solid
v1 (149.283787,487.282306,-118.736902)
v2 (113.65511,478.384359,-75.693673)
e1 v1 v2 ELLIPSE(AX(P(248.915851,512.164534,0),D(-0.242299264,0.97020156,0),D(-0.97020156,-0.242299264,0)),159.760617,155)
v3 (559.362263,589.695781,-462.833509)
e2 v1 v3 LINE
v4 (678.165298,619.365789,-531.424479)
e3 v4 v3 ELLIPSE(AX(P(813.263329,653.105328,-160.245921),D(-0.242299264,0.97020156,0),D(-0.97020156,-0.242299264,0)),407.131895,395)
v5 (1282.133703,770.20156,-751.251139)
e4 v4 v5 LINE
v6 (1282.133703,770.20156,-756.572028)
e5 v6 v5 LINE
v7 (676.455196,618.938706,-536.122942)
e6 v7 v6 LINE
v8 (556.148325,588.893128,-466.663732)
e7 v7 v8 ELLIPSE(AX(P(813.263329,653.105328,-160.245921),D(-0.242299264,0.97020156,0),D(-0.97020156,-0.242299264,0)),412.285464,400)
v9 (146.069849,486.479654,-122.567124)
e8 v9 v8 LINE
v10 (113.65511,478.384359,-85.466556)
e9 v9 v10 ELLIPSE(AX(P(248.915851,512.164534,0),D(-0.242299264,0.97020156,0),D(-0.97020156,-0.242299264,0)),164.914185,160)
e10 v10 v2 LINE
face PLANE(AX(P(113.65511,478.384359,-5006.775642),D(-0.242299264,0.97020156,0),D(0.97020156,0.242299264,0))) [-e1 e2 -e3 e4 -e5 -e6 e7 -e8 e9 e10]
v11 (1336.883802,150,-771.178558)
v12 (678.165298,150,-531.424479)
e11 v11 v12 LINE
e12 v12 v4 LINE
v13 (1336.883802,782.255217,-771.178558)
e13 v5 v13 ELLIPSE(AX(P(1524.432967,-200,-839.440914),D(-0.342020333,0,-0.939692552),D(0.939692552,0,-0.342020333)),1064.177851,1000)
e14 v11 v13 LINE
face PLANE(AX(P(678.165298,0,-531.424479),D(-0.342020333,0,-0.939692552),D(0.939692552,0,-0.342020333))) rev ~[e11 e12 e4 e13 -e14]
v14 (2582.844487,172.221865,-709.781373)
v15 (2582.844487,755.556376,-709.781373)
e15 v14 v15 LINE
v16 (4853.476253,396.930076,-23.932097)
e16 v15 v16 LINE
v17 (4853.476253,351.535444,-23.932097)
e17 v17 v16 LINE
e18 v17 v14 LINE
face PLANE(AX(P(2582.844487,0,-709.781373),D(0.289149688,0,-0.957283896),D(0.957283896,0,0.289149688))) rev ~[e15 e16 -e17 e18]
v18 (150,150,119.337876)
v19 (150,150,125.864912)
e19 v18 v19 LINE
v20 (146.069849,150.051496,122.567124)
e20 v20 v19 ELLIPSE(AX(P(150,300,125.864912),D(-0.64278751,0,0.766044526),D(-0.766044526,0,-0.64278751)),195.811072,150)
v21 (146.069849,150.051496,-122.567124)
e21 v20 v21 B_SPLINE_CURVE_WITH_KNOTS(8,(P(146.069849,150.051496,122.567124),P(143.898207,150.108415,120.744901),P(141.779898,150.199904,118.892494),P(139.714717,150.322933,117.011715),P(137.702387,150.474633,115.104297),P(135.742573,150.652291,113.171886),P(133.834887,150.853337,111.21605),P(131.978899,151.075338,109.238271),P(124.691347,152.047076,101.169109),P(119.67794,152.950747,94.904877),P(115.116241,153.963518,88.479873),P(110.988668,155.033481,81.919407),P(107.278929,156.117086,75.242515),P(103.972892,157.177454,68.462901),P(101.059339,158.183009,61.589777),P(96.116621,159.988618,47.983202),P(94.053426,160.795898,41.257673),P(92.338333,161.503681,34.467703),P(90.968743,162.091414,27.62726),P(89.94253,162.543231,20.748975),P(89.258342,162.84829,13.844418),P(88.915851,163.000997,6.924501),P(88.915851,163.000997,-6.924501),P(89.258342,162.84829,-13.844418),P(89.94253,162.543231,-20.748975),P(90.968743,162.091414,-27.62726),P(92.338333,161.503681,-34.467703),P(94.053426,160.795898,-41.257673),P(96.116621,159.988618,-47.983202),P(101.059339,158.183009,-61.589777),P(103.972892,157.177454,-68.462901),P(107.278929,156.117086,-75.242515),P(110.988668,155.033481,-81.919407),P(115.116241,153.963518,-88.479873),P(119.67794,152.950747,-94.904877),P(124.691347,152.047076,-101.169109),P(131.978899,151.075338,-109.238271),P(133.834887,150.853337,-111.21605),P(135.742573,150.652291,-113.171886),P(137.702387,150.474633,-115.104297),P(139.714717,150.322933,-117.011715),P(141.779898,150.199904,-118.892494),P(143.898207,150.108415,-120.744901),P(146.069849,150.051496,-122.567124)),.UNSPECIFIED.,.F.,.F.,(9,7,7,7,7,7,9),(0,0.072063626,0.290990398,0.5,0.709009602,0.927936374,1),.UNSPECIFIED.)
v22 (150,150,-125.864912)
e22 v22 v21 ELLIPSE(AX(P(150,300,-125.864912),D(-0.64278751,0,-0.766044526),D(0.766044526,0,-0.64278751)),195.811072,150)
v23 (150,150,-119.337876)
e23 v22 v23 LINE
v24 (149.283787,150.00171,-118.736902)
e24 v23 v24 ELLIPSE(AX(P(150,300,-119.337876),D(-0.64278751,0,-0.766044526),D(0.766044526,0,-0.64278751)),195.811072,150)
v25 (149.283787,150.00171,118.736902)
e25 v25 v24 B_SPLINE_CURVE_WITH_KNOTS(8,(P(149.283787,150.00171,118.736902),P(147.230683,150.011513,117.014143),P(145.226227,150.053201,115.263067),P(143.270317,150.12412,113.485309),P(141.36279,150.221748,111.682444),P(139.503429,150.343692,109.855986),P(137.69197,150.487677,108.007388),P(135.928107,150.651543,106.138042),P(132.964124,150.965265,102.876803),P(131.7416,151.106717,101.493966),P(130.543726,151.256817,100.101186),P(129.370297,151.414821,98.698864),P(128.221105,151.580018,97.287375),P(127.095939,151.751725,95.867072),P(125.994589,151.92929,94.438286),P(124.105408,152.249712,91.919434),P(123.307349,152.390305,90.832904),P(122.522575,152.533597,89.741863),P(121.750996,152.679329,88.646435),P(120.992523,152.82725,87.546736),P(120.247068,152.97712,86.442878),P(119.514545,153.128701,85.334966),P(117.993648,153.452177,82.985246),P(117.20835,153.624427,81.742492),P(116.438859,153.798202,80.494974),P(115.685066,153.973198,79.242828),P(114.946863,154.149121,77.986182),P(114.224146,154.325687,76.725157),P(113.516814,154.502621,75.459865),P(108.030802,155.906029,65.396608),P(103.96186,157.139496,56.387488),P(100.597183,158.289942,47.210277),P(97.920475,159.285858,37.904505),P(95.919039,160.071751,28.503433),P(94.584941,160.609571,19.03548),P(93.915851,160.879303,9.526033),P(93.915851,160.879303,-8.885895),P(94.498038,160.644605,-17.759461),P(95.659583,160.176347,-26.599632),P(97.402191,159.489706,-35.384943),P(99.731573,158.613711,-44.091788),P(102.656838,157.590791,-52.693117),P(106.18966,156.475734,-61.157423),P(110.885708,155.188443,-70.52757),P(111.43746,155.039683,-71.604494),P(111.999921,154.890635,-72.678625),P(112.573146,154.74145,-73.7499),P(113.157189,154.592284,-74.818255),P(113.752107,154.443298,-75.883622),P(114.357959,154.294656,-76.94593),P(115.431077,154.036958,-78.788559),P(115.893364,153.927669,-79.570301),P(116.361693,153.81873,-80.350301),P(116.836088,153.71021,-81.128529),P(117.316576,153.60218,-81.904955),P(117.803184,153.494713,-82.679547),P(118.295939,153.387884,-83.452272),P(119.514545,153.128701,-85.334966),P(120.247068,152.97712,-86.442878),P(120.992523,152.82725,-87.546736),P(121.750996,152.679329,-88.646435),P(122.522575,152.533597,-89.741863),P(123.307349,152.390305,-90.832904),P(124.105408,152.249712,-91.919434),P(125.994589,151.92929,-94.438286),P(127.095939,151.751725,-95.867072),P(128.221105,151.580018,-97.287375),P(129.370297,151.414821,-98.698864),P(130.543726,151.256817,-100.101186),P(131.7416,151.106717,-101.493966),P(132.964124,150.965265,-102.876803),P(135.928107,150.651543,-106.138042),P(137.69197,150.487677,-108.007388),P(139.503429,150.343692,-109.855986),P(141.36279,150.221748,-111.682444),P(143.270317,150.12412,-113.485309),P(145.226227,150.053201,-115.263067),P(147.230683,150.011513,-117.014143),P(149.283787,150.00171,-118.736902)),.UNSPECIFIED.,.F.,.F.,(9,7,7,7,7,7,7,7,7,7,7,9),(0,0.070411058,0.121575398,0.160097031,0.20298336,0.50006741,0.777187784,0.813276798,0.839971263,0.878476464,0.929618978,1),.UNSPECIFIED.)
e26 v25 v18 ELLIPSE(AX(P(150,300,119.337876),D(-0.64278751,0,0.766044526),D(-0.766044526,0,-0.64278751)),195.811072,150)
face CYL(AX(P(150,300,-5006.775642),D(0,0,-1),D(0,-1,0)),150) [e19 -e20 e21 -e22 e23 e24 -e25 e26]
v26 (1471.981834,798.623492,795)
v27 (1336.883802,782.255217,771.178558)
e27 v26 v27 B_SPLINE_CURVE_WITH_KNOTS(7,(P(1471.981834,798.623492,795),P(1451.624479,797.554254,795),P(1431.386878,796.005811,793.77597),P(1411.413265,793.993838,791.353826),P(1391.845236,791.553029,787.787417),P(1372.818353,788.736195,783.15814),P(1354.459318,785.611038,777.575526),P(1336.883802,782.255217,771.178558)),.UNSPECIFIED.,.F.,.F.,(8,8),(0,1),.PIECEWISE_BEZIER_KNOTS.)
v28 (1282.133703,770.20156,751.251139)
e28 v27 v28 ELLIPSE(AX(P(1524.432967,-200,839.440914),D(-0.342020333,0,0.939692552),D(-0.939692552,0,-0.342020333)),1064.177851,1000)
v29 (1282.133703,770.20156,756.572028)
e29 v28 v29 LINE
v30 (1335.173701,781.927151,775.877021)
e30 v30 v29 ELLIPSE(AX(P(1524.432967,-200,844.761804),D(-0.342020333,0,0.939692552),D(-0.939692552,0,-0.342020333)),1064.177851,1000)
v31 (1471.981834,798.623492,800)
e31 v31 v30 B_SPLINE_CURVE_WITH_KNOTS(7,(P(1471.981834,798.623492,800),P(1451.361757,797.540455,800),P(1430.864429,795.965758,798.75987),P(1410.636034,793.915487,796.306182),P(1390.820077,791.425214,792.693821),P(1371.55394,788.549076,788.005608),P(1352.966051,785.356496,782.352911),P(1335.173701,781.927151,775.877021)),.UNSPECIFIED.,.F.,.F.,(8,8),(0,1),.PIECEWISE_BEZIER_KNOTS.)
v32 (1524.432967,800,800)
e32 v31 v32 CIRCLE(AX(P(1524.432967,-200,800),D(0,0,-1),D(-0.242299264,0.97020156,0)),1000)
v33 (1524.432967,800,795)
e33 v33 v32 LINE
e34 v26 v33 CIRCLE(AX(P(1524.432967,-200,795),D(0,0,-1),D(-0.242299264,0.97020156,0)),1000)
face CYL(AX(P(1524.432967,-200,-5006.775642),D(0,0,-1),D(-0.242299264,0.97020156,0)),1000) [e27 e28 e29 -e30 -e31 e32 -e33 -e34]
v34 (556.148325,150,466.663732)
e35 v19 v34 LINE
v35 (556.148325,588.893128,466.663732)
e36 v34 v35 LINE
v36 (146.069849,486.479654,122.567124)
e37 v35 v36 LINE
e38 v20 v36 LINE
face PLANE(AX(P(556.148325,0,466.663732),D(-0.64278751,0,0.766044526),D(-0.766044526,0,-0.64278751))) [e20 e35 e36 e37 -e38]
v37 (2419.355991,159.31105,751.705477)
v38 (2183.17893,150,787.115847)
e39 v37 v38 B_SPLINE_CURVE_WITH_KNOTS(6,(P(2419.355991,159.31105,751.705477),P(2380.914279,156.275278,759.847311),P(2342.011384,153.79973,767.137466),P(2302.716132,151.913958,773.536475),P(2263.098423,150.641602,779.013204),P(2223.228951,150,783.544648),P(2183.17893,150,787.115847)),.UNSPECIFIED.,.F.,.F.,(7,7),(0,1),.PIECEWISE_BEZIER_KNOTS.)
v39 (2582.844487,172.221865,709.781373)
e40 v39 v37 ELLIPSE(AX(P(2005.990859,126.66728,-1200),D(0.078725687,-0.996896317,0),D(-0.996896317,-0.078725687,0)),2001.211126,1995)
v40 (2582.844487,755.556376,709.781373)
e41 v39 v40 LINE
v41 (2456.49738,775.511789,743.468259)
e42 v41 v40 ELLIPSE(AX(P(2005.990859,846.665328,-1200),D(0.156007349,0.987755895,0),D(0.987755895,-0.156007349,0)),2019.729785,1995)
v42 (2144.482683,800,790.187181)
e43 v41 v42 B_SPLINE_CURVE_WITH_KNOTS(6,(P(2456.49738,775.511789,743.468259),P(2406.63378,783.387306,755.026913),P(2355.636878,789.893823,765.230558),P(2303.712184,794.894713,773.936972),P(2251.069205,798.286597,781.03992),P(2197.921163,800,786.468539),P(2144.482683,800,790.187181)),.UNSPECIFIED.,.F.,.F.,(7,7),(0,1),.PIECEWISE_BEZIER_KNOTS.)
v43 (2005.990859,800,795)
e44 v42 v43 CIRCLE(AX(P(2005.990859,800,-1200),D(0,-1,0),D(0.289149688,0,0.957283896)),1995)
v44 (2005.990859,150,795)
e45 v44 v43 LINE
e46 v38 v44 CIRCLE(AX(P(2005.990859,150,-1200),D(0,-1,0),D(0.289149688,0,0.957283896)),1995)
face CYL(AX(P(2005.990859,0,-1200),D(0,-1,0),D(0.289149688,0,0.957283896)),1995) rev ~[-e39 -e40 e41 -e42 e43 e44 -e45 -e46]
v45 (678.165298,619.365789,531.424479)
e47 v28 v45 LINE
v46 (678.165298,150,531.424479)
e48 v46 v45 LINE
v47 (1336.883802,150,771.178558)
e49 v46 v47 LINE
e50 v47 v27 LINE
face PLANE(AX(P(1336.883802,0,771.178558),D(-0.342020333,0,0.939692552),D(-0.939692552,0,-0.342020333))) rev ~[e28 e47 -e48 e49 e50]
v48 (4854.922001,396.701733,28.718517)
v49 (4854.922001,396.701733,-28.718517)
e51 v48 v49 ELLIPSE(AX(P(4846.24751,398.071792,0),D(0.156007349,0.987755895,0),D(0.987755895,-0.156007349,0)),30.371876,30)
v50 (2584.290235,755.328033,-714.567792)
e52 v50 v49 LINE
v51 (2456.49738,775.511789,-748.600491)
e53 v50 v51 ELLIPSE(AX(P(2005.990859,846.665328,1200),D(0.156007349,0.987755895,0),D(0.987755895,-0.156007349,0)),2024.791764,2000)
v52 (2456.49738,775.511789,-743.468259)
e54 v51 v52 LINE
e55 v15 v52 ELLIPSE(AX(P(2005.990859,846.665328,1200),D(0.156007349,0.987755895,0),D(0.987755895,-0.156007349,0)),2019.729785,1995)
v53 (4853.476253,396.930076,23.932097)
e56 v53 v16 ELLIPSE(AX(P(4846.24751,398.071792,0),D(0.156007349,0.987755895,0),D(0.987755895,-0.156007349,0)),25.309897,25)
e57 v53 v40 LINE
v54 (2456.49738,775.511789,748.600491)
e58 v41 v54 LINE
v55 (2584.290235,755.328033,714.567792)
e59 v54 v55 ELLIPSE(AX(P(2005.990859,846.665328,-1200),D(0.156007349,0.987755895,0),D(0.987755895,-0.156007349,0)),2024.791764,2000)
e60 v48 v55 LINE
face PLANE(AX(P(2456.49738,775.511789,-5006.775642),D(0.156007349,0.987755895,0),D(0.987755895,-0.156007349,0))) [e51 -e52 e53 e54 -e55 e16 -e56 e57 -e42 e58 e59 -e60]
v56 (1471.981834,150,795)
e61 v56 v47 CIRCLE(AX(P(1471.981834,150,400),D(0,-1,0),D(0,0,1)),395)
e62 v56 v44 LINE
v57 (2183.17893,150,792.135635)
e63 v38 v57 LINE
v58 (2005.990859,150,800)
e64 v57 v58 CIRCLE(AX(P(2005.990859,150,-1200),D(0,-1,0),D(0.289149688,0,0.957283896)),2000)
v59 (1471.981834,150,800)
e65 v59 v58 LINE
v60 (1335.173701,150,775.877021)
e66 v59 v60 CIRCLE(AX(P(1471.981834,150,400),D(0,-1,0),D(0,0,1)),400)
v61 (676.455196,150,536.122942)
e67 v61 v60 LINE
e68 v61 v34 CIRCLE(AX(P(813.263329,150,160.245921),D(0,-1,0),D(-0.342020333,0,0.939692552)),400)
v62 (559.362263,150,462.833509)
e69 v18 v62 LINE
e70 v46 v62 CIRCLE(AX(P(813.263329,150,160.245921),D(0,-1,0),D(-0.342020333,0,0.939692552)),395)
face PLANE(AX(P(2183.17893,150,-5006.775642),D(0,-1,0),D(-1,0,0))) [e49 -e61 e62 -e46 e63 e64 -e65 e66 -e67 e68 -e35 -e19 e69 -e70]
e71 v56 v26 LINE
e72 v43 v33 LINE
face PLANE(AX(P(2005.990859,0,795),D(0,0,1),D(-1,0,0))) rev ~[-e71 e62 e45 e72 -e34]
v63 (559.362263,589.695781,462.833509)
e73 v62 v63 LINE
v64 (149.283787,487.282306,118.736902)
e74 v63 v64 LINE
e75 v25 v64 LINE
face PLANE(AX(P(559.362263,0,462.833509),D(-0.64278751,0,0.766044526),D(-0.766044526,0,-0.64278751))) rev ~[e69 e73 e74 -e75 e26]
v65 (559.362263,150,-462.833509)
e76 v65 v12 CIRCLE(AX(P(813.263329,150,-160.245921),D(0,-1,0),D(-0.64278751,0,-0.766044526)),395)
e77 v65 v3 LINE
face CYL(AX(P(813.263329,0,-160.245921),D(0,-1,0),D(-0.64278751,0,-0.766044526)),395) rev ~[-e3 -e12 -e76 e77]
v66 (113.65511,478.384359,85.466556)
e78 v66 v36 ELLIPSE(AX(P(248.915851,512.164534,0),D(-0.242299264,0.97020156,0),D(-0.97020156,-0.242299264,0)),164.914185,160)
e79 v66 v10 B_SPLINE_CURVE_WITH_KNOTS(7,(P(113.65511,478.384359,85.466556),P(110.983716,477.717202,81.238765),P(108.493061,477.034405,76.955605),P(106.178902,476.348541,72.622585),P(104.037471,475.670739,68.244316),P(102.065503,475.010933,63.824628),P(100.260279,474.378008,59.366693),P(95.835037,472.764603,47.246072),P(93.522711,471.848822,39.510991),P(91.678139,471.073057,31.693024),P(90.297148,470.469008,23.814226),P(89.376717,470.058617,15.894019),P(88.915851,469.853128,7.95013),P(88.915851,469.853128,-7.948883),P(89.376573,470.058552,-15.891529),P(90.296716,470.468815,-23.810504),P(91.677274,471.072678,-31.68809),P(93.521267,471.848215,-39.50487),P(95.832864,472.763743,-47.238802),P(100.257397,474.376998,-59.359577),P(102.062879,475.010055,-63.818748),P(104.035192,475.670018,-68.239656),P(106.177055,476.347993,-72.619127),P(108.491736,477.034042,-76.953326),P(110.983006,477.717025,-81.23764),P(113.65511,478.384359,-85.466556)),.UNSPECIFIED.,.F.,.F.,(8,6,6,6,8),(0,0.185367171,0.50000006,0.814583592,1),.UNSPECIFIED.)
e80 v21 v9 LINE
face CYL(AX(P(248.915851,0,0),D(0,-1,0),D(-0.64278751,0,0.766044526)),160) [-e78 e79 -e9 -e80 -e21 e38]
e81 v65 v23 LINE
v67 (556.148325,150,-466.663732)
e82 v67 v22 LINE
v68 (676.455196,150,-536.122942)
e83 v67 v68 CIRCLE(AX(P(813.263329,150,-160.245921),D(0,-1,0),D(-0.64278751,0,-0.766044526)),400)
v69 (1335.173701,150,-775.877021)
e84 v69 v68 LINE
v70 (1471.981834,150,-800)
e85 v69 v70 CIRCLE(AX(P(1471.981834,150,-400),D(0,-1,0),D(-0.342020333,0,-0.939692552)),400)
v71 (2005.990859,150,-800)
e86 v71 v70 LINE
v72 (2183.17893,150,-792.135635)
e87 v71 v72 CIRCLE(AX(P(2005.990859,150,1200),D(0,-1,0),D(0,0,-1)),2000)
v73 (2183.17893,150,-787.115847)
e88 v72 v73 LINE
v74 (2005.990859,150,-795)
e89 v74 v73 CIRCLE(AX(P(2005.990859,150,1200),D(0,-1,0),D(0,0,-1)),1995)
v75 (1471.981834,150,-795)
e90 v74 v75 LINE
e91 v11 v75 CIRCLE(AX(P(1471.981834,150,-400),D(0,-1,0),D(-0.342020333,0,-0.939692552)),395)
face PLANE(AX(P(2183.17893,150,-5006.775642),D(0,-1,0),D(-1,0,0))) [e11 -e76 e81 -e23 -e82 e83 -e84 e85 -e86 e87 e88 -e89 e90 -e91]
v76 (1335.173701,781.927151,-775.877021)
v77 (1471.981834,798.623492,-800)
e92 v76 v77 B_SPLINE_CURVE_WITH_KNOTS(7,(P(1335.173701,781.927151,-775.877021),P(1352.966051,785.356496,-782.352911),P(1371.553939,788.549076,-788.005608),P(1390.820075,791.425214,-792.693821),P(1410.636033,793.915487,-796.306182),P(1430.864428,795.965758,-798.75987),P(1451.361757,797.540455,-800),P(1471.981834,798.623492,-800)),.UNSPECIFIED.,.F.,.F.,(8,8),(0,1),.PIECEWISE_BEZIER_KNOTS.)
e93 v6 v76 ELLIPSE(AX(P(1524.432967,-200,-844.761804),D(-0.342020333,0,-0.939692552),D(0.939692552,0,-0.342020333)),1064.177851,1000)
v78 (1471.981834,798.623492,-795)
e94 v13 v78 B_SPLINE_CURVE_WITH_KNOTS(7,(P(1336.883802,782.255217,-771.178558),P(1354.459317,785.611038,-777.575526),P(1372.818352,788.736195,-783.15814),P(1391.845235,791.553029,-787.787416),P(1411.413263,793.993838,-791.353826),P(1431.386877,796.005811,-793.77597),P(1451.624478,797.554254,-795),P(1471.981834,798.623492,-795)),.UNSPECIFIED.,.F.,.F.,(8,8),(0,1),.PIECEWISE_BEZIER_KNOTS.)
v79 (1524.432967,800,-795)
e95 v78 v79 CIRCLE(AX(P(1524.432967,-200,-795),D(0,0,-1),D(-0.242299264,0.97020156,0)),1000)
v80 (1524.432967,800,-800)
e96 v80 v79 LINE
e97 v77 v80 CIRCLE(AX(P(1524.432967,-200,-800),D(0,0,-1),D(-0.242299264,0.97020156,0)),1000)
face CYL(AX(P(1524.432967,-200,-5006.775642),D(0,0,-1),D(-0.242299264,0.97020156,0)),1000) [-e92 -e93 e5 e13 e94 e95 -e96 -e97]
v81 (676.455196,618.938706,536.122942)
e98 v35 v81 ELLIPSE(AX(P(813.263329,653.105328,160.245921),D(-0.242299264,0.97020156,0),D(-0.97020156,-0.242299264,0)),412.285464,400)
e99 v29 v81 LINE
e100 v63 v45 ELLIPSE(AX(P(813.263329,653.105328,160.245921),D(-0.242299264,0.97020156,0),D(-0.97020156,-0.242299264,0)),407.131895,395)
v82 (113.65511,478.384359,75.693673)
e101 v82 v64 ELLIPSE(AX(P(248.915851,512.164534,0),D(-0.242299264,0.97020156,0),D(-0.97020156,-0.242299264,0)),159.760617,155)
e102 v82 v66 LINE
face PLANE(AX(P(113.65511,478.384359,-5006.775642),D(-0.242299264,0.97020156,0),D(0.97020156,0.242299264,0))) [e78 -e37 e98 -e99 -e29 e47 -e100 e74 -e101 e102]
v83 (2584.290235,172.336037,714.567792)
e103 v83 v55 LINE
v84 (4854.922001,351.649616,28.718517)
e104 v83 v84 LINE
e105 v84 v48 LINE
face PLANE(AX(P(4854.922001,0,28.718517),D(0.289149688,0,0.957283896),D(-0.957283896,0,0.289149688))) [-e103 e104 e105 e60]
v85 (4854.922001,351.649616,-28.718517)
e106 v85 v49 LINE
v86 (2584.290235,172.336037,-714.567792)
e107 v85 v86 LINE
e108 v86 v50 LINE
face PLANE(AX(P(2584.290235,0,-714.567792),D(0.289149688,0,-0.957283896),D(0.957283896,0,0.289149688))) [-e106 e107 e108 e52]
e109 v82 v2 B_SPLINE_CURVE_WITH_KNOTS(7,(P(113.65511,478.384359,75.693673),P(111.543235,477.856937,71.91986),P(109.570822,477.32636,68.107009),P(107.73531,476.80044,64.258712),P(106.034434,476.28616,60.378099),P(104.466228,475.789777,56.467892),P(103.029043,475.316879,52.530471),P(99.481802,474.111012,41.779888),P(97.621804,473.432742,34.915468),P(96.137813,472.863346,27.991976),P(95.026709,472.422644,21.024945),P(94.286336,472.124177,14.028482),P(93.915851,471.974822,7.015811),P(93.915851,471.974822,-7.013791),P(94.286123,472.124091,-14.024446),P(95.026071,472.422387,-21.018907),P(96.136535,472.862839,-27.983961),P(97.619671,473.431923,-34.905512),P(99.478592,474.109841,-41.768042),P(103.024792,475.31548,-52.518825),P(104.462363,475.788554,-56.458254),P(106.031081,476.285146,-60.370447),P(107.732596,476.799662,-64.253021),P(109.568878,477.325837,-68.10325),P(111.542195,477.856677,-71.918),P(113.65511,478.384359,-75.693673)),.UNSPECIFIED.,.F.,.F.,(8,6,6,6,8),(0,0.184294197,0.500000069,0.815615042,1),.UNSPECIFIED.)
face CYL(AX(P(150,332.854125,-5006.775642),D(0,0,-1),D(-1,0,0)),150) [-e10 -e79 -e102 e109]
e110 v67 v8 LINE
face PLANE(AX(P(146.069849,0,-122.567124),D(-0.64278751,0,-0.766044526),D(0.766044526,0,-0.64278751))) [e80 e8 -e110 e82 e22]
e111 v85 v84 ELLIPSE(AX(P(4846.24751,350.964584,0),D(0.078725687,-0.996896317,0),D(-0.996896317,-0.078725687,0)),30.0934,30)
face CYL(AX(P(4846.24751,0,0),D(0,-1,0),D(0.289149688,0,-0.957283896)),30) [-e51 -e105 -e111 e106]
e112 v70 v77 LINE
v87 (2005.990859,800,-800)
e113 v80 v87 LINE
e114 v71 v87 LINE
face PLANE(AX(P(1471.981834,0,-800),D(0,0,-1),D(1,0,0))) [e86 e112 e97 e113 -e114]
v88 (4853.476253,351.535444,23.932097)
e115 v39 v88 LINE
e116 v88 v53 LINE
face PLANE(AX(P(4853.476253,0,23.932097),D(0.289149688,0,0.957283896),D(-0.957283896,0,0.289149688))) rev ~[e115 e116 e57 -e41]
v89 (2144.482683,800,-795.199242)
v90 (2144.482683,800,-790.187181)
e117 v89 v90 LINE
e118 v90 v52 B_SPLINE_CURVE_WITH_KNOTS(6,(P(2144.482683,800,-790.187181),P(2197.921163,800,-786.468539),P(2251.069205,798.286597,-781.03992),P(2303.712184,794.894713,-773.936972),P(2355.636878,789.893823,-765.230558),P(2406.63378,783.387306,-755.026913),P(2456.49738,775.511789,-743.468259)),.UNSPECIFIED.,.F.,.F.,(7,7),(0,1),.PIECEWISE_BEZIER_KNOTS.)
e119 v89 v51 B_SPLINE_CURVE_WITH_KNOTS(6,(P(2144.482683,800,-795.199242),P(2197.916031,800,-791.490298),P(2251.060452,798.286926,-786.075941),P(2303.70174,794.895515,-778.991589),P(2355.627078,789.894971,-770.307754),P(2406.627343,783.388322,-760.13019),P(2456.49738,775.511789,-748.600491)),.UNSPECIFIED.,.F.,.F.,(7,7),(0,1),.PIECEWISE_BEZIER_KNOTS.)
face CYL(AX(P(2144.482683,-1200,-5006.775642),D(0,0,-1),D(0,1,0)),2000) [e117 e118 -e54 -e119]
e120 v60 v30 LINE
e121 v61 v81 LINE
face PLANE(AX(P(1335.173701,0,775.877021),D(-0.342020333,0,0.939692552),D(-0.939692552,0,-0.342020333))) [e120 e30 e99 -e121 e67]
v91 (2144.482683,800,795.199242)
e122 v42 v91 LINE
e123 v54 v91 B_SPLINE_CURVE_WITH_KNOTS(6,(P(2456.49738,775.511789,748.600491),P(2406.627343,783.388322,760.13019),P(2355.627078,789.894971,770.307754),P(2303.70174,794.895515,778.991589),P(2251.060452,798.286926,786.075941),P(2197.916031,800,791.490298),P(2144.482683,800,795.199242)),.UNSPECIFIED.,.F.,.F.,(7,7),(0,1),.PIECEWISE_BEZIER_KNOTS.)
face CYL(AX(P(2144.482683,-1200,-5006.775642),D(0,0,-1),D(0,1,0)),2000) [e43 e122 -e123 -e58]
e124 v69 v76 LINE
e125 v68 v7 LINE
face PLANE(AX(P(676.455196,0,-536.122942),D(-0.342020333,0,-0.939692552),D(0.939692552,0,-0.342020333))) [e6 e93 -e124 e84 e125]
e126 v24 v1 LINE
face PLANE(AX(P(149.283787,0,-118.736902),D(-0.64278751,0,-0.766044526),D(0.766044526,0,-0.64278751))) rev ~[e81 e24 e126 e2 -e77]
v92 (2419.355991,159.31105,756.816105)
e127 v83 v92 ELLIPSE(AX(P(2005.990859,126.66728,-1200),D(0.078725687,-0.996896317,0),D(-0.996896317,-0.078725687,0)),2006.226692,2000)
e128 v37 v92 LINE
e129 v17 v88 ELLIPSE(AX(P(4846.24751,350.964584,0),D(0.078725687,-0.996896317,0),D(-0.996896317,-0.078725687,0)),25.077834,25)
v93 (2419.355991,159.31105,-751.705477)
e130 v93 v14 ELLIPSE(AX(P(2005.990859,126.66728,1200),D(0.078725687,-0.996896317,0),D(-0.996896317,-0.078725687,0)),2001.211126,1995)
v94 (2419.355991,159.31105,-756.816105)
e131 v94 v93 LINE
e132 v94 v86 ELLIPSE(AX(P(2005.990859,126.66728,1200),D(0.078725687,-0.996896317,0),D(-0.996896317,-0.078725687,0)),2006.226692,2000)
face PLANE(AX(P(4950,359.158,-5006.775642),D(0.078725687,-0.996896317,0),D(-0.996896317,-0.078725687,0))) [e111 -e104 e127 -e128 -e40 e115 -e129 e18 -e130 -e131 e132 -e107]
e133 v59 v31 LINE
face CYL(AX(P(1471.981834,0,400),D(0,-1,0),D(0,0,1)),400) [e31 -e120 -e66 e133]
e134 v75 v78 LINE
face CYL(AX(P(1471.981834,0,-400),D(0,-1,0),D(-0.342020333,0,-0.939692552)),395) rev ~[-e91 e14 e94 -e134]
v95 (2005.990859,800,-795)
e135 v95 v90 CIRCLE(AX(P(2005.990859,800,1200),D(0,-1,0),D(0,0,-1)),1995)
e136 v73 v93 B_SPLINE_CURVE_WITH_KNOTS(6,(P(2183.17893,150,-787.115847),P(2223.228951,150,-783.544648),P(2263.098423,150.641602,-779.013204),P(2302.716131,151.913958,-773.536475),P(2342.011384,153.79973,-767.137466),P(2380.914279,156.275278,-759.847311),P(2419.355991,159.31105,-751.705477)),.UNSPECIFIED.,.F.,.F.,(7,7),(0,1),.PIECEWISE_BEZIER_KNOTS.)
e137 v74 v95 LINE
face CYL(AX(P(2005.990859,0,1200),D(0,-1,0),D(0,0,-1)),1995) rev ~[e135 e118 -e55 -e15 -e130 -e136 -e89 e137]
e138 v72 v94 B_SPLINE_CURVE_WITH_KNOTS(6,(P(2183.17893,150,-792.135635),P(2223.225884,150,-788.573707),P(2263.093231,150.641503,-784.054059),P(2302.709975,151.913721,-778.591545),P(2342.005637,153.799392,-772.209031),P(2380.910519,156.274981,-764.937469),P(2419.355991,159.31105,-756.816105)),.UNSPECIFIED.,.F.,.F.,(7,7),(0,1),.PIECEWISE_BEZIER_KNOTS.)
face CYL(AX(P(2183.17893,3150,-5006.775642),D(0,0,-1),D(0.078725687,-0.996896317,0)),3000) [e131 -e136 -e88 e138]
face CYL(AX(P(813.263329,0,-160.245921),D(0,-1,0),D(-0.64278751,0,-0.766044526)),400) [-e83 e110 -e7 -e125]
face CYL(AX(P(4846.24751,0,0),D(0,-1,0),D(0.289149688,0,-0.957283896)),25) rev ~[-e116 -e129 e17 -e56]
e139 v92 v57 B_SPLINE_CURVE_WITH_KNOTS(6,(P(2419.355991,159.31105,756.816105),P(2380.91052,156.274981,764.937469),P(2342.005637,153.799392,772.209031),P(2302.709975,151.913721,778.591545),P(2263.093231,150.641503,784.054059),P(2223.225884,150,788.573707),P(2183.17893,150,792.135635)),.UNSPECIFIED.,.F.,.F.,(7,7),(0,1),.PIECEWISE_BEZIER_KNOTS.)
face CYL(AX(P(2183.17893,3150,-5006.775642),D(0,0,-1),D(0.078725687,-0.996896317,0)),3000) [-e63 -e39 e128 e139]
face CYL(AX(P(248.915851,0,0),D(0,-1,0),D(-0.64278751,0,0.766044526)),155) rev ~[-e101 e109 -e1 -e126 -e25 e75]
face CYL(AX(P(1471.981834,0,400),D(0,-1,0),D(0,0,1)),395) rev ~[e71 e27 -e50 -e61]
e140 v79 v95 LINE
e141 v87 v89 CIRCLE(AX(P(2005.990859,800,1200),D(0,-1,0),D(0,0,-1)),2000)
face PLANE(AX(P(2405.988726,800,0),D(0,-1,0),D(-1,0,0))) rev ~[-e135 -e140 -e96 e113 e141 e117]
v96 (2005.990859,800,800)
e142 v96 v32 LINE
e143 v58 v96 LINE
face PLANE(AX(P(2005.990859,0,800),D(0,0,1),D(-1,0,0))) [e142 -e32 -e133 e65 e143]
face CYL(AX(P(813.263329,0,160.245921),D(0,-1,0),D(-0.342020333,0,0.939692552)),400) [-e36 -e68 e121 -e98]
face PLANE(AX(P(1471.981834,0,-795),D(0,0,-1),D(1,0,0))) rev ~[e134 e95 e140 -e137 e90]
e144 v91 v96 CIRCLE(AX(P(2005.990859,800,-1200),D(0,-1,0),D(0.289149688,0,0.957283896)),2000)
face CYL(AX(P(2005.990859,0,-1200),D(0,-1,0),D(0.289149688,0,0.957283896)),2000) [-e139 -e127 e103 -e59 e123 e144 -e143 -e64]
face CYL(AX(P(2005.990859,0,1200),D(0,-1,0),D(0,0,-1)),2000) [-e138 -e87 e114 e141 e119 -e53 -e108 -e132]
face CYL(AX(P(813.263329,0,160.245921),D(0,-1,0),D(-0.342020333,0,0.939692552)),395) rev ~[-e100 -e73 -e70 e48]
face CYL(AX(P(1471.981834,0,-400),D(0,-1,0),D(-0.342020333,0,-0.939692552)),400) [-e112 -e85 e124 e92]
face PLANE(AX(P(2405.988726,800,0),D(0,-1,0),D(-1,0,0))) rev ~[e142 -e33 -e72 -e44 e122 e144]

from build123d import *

# Parameters (mm, degrees)
TOPVIEW_EXTRUDE_DEPTH      = 800
SHELL1_T                   = -5
SIDEPROFILE_CUT_DEPTH      = 5006.775642449
SIDEPROFILE_CUT_DEPTH_BACK = 5006.775642449
SKETCH2_OUTSIDE_W          = 5811.458
SKETCH2_OUTSIDE_H          = 1824.126


with BuildPart() as part:
    # Sketch1 → TopView_Extrude (new body)
    with BuildSketch(Plane(origin=(0, 0, 0), x_dir=(1, 0, 0), z_dir=(0, 1, 0))):
        with BuildLine():
            Line((146.069849076, 122.567124227), (556.148324977, 466.663731547))
            ThreePointArc((556.148324977, 466.663731547), (613.263316637, 506.656075273), (676.455195963, 536.122941687))
            Line((676.455195963, 536.122941687), (1335.173700718, 775.877020708))
            ThreePointArc((1335.173700718, 775.877020708), (1402.522523085, 793.923094197), (1471.981833896, 800))
            Line((1471.981833896, 800), (2005.990858989, 800))
            ThreePointArc((2005.990858989, 800), (2298.278743763, 778.526672151), (2584.290234961, 714.567792414))
            Line((2584.290234961, 714.567792414), (4854.922001024, 28.718516886))
            ThreePointArc((4854.922001024, 28.718516886), (4876.247510385, 0), (4854.922001024, -28.718516886))
            Line((4854.922001024, -28.718516886), (2584.290234961, -714.567792414))
            ThreePointArc((2584.290234961, -714.567792414), (2298.278743763, -778.526672151), (2005.990858989, -800))
            Line((2005.990858989, -800), (1471.981833896, -800))
            ThreePointArc((1471.981833896, -800), (1402.522523085, -793.923094197), (1335.173700718, -775.877020708))
            Line((1335.173700718, -775.877020708), (676.455195963, -536.122941687))
            ThreePointArc((676.455195963, -536.122941687), (613.263316637, -506.656075273), (556.148324977, -466.663731547))
            Line((556.148324977, -466.663731547), (146.069849076, -122.567124227))
            ThreePointArc((146.069849076, -122.567124227), (88.915850742, 0), (146.069849076, 122.567124227))
        make_face()
    extrude(amount=TOPVIEW_EXTRUDE_DEPTH)

    # Shell1
    shell1_openings = [part.faces().sort_by_distance(p)[0] for p in [
        (2164.572912822, 800, 0),
        (2164.572912822, 0, 0),
    ]]
    offset(amount=SHELL1_T, openings=shell1_openings, kind=Kind.INTERSECTION)

    # Sketch2 outside → SideProfile_Cut (cut, two sides: drawn at the far end of the back side and taken through both)
    with BuildSketch(Plane.XY.offset(-SIDEPROFILE_CUT_DEPTH_BACK)):
        with Locations((2482.582, 400)):
            Rectangle(SKETCH2_OUTSIDE_W, SKETCH2_OUTSIDE_H)
        with BuildLine():
            Line((0, 300), (0, 332.854125267))
            ThreePointArc((0, 332.854125267), (31.780430043, 425.180358155), (113.65511039, 478.384359237))
            Line((113.65511039, 478.384359237), (1282.133703367, 770.201559797))
            ThreePointArc((1282.133703367, 770.201559797), (1402.370605908, 792.522432945), (1524.432967436, 800))
            Line((1524.432967436, 800), (2144.482683126, 800))
            ThreePointArc((2144.482683126, 800), (2300.969778196, 793.868548595), (2456.497380248, 775.511789076))
            Line((2456.497380248, 775.511789076), (4950, 381.685))
            Line((4950, 381.685), (4950, 359.158))
            Line((4950, 359.158), (2419.355991101, 159.311049986))
            ThreePointArc((2419.355991101, 159.311049986), (2301.359194606, 152.328666278), (2183.178929847, 150))
            Line((2183.178929847, 150), (150, 150))
            ThreePointArc((150, 150), (43.933982822, 193.933982822), (0, 300))
        make_face(mode=Mode.SUBTRACT)
    extrude(amount=SIDEPROFILE_CUT_DEPTH + SIDEPROFILE_CUT_DEPTH_BACK, mode=Mode.SUBTRACT)


solid = part.part
